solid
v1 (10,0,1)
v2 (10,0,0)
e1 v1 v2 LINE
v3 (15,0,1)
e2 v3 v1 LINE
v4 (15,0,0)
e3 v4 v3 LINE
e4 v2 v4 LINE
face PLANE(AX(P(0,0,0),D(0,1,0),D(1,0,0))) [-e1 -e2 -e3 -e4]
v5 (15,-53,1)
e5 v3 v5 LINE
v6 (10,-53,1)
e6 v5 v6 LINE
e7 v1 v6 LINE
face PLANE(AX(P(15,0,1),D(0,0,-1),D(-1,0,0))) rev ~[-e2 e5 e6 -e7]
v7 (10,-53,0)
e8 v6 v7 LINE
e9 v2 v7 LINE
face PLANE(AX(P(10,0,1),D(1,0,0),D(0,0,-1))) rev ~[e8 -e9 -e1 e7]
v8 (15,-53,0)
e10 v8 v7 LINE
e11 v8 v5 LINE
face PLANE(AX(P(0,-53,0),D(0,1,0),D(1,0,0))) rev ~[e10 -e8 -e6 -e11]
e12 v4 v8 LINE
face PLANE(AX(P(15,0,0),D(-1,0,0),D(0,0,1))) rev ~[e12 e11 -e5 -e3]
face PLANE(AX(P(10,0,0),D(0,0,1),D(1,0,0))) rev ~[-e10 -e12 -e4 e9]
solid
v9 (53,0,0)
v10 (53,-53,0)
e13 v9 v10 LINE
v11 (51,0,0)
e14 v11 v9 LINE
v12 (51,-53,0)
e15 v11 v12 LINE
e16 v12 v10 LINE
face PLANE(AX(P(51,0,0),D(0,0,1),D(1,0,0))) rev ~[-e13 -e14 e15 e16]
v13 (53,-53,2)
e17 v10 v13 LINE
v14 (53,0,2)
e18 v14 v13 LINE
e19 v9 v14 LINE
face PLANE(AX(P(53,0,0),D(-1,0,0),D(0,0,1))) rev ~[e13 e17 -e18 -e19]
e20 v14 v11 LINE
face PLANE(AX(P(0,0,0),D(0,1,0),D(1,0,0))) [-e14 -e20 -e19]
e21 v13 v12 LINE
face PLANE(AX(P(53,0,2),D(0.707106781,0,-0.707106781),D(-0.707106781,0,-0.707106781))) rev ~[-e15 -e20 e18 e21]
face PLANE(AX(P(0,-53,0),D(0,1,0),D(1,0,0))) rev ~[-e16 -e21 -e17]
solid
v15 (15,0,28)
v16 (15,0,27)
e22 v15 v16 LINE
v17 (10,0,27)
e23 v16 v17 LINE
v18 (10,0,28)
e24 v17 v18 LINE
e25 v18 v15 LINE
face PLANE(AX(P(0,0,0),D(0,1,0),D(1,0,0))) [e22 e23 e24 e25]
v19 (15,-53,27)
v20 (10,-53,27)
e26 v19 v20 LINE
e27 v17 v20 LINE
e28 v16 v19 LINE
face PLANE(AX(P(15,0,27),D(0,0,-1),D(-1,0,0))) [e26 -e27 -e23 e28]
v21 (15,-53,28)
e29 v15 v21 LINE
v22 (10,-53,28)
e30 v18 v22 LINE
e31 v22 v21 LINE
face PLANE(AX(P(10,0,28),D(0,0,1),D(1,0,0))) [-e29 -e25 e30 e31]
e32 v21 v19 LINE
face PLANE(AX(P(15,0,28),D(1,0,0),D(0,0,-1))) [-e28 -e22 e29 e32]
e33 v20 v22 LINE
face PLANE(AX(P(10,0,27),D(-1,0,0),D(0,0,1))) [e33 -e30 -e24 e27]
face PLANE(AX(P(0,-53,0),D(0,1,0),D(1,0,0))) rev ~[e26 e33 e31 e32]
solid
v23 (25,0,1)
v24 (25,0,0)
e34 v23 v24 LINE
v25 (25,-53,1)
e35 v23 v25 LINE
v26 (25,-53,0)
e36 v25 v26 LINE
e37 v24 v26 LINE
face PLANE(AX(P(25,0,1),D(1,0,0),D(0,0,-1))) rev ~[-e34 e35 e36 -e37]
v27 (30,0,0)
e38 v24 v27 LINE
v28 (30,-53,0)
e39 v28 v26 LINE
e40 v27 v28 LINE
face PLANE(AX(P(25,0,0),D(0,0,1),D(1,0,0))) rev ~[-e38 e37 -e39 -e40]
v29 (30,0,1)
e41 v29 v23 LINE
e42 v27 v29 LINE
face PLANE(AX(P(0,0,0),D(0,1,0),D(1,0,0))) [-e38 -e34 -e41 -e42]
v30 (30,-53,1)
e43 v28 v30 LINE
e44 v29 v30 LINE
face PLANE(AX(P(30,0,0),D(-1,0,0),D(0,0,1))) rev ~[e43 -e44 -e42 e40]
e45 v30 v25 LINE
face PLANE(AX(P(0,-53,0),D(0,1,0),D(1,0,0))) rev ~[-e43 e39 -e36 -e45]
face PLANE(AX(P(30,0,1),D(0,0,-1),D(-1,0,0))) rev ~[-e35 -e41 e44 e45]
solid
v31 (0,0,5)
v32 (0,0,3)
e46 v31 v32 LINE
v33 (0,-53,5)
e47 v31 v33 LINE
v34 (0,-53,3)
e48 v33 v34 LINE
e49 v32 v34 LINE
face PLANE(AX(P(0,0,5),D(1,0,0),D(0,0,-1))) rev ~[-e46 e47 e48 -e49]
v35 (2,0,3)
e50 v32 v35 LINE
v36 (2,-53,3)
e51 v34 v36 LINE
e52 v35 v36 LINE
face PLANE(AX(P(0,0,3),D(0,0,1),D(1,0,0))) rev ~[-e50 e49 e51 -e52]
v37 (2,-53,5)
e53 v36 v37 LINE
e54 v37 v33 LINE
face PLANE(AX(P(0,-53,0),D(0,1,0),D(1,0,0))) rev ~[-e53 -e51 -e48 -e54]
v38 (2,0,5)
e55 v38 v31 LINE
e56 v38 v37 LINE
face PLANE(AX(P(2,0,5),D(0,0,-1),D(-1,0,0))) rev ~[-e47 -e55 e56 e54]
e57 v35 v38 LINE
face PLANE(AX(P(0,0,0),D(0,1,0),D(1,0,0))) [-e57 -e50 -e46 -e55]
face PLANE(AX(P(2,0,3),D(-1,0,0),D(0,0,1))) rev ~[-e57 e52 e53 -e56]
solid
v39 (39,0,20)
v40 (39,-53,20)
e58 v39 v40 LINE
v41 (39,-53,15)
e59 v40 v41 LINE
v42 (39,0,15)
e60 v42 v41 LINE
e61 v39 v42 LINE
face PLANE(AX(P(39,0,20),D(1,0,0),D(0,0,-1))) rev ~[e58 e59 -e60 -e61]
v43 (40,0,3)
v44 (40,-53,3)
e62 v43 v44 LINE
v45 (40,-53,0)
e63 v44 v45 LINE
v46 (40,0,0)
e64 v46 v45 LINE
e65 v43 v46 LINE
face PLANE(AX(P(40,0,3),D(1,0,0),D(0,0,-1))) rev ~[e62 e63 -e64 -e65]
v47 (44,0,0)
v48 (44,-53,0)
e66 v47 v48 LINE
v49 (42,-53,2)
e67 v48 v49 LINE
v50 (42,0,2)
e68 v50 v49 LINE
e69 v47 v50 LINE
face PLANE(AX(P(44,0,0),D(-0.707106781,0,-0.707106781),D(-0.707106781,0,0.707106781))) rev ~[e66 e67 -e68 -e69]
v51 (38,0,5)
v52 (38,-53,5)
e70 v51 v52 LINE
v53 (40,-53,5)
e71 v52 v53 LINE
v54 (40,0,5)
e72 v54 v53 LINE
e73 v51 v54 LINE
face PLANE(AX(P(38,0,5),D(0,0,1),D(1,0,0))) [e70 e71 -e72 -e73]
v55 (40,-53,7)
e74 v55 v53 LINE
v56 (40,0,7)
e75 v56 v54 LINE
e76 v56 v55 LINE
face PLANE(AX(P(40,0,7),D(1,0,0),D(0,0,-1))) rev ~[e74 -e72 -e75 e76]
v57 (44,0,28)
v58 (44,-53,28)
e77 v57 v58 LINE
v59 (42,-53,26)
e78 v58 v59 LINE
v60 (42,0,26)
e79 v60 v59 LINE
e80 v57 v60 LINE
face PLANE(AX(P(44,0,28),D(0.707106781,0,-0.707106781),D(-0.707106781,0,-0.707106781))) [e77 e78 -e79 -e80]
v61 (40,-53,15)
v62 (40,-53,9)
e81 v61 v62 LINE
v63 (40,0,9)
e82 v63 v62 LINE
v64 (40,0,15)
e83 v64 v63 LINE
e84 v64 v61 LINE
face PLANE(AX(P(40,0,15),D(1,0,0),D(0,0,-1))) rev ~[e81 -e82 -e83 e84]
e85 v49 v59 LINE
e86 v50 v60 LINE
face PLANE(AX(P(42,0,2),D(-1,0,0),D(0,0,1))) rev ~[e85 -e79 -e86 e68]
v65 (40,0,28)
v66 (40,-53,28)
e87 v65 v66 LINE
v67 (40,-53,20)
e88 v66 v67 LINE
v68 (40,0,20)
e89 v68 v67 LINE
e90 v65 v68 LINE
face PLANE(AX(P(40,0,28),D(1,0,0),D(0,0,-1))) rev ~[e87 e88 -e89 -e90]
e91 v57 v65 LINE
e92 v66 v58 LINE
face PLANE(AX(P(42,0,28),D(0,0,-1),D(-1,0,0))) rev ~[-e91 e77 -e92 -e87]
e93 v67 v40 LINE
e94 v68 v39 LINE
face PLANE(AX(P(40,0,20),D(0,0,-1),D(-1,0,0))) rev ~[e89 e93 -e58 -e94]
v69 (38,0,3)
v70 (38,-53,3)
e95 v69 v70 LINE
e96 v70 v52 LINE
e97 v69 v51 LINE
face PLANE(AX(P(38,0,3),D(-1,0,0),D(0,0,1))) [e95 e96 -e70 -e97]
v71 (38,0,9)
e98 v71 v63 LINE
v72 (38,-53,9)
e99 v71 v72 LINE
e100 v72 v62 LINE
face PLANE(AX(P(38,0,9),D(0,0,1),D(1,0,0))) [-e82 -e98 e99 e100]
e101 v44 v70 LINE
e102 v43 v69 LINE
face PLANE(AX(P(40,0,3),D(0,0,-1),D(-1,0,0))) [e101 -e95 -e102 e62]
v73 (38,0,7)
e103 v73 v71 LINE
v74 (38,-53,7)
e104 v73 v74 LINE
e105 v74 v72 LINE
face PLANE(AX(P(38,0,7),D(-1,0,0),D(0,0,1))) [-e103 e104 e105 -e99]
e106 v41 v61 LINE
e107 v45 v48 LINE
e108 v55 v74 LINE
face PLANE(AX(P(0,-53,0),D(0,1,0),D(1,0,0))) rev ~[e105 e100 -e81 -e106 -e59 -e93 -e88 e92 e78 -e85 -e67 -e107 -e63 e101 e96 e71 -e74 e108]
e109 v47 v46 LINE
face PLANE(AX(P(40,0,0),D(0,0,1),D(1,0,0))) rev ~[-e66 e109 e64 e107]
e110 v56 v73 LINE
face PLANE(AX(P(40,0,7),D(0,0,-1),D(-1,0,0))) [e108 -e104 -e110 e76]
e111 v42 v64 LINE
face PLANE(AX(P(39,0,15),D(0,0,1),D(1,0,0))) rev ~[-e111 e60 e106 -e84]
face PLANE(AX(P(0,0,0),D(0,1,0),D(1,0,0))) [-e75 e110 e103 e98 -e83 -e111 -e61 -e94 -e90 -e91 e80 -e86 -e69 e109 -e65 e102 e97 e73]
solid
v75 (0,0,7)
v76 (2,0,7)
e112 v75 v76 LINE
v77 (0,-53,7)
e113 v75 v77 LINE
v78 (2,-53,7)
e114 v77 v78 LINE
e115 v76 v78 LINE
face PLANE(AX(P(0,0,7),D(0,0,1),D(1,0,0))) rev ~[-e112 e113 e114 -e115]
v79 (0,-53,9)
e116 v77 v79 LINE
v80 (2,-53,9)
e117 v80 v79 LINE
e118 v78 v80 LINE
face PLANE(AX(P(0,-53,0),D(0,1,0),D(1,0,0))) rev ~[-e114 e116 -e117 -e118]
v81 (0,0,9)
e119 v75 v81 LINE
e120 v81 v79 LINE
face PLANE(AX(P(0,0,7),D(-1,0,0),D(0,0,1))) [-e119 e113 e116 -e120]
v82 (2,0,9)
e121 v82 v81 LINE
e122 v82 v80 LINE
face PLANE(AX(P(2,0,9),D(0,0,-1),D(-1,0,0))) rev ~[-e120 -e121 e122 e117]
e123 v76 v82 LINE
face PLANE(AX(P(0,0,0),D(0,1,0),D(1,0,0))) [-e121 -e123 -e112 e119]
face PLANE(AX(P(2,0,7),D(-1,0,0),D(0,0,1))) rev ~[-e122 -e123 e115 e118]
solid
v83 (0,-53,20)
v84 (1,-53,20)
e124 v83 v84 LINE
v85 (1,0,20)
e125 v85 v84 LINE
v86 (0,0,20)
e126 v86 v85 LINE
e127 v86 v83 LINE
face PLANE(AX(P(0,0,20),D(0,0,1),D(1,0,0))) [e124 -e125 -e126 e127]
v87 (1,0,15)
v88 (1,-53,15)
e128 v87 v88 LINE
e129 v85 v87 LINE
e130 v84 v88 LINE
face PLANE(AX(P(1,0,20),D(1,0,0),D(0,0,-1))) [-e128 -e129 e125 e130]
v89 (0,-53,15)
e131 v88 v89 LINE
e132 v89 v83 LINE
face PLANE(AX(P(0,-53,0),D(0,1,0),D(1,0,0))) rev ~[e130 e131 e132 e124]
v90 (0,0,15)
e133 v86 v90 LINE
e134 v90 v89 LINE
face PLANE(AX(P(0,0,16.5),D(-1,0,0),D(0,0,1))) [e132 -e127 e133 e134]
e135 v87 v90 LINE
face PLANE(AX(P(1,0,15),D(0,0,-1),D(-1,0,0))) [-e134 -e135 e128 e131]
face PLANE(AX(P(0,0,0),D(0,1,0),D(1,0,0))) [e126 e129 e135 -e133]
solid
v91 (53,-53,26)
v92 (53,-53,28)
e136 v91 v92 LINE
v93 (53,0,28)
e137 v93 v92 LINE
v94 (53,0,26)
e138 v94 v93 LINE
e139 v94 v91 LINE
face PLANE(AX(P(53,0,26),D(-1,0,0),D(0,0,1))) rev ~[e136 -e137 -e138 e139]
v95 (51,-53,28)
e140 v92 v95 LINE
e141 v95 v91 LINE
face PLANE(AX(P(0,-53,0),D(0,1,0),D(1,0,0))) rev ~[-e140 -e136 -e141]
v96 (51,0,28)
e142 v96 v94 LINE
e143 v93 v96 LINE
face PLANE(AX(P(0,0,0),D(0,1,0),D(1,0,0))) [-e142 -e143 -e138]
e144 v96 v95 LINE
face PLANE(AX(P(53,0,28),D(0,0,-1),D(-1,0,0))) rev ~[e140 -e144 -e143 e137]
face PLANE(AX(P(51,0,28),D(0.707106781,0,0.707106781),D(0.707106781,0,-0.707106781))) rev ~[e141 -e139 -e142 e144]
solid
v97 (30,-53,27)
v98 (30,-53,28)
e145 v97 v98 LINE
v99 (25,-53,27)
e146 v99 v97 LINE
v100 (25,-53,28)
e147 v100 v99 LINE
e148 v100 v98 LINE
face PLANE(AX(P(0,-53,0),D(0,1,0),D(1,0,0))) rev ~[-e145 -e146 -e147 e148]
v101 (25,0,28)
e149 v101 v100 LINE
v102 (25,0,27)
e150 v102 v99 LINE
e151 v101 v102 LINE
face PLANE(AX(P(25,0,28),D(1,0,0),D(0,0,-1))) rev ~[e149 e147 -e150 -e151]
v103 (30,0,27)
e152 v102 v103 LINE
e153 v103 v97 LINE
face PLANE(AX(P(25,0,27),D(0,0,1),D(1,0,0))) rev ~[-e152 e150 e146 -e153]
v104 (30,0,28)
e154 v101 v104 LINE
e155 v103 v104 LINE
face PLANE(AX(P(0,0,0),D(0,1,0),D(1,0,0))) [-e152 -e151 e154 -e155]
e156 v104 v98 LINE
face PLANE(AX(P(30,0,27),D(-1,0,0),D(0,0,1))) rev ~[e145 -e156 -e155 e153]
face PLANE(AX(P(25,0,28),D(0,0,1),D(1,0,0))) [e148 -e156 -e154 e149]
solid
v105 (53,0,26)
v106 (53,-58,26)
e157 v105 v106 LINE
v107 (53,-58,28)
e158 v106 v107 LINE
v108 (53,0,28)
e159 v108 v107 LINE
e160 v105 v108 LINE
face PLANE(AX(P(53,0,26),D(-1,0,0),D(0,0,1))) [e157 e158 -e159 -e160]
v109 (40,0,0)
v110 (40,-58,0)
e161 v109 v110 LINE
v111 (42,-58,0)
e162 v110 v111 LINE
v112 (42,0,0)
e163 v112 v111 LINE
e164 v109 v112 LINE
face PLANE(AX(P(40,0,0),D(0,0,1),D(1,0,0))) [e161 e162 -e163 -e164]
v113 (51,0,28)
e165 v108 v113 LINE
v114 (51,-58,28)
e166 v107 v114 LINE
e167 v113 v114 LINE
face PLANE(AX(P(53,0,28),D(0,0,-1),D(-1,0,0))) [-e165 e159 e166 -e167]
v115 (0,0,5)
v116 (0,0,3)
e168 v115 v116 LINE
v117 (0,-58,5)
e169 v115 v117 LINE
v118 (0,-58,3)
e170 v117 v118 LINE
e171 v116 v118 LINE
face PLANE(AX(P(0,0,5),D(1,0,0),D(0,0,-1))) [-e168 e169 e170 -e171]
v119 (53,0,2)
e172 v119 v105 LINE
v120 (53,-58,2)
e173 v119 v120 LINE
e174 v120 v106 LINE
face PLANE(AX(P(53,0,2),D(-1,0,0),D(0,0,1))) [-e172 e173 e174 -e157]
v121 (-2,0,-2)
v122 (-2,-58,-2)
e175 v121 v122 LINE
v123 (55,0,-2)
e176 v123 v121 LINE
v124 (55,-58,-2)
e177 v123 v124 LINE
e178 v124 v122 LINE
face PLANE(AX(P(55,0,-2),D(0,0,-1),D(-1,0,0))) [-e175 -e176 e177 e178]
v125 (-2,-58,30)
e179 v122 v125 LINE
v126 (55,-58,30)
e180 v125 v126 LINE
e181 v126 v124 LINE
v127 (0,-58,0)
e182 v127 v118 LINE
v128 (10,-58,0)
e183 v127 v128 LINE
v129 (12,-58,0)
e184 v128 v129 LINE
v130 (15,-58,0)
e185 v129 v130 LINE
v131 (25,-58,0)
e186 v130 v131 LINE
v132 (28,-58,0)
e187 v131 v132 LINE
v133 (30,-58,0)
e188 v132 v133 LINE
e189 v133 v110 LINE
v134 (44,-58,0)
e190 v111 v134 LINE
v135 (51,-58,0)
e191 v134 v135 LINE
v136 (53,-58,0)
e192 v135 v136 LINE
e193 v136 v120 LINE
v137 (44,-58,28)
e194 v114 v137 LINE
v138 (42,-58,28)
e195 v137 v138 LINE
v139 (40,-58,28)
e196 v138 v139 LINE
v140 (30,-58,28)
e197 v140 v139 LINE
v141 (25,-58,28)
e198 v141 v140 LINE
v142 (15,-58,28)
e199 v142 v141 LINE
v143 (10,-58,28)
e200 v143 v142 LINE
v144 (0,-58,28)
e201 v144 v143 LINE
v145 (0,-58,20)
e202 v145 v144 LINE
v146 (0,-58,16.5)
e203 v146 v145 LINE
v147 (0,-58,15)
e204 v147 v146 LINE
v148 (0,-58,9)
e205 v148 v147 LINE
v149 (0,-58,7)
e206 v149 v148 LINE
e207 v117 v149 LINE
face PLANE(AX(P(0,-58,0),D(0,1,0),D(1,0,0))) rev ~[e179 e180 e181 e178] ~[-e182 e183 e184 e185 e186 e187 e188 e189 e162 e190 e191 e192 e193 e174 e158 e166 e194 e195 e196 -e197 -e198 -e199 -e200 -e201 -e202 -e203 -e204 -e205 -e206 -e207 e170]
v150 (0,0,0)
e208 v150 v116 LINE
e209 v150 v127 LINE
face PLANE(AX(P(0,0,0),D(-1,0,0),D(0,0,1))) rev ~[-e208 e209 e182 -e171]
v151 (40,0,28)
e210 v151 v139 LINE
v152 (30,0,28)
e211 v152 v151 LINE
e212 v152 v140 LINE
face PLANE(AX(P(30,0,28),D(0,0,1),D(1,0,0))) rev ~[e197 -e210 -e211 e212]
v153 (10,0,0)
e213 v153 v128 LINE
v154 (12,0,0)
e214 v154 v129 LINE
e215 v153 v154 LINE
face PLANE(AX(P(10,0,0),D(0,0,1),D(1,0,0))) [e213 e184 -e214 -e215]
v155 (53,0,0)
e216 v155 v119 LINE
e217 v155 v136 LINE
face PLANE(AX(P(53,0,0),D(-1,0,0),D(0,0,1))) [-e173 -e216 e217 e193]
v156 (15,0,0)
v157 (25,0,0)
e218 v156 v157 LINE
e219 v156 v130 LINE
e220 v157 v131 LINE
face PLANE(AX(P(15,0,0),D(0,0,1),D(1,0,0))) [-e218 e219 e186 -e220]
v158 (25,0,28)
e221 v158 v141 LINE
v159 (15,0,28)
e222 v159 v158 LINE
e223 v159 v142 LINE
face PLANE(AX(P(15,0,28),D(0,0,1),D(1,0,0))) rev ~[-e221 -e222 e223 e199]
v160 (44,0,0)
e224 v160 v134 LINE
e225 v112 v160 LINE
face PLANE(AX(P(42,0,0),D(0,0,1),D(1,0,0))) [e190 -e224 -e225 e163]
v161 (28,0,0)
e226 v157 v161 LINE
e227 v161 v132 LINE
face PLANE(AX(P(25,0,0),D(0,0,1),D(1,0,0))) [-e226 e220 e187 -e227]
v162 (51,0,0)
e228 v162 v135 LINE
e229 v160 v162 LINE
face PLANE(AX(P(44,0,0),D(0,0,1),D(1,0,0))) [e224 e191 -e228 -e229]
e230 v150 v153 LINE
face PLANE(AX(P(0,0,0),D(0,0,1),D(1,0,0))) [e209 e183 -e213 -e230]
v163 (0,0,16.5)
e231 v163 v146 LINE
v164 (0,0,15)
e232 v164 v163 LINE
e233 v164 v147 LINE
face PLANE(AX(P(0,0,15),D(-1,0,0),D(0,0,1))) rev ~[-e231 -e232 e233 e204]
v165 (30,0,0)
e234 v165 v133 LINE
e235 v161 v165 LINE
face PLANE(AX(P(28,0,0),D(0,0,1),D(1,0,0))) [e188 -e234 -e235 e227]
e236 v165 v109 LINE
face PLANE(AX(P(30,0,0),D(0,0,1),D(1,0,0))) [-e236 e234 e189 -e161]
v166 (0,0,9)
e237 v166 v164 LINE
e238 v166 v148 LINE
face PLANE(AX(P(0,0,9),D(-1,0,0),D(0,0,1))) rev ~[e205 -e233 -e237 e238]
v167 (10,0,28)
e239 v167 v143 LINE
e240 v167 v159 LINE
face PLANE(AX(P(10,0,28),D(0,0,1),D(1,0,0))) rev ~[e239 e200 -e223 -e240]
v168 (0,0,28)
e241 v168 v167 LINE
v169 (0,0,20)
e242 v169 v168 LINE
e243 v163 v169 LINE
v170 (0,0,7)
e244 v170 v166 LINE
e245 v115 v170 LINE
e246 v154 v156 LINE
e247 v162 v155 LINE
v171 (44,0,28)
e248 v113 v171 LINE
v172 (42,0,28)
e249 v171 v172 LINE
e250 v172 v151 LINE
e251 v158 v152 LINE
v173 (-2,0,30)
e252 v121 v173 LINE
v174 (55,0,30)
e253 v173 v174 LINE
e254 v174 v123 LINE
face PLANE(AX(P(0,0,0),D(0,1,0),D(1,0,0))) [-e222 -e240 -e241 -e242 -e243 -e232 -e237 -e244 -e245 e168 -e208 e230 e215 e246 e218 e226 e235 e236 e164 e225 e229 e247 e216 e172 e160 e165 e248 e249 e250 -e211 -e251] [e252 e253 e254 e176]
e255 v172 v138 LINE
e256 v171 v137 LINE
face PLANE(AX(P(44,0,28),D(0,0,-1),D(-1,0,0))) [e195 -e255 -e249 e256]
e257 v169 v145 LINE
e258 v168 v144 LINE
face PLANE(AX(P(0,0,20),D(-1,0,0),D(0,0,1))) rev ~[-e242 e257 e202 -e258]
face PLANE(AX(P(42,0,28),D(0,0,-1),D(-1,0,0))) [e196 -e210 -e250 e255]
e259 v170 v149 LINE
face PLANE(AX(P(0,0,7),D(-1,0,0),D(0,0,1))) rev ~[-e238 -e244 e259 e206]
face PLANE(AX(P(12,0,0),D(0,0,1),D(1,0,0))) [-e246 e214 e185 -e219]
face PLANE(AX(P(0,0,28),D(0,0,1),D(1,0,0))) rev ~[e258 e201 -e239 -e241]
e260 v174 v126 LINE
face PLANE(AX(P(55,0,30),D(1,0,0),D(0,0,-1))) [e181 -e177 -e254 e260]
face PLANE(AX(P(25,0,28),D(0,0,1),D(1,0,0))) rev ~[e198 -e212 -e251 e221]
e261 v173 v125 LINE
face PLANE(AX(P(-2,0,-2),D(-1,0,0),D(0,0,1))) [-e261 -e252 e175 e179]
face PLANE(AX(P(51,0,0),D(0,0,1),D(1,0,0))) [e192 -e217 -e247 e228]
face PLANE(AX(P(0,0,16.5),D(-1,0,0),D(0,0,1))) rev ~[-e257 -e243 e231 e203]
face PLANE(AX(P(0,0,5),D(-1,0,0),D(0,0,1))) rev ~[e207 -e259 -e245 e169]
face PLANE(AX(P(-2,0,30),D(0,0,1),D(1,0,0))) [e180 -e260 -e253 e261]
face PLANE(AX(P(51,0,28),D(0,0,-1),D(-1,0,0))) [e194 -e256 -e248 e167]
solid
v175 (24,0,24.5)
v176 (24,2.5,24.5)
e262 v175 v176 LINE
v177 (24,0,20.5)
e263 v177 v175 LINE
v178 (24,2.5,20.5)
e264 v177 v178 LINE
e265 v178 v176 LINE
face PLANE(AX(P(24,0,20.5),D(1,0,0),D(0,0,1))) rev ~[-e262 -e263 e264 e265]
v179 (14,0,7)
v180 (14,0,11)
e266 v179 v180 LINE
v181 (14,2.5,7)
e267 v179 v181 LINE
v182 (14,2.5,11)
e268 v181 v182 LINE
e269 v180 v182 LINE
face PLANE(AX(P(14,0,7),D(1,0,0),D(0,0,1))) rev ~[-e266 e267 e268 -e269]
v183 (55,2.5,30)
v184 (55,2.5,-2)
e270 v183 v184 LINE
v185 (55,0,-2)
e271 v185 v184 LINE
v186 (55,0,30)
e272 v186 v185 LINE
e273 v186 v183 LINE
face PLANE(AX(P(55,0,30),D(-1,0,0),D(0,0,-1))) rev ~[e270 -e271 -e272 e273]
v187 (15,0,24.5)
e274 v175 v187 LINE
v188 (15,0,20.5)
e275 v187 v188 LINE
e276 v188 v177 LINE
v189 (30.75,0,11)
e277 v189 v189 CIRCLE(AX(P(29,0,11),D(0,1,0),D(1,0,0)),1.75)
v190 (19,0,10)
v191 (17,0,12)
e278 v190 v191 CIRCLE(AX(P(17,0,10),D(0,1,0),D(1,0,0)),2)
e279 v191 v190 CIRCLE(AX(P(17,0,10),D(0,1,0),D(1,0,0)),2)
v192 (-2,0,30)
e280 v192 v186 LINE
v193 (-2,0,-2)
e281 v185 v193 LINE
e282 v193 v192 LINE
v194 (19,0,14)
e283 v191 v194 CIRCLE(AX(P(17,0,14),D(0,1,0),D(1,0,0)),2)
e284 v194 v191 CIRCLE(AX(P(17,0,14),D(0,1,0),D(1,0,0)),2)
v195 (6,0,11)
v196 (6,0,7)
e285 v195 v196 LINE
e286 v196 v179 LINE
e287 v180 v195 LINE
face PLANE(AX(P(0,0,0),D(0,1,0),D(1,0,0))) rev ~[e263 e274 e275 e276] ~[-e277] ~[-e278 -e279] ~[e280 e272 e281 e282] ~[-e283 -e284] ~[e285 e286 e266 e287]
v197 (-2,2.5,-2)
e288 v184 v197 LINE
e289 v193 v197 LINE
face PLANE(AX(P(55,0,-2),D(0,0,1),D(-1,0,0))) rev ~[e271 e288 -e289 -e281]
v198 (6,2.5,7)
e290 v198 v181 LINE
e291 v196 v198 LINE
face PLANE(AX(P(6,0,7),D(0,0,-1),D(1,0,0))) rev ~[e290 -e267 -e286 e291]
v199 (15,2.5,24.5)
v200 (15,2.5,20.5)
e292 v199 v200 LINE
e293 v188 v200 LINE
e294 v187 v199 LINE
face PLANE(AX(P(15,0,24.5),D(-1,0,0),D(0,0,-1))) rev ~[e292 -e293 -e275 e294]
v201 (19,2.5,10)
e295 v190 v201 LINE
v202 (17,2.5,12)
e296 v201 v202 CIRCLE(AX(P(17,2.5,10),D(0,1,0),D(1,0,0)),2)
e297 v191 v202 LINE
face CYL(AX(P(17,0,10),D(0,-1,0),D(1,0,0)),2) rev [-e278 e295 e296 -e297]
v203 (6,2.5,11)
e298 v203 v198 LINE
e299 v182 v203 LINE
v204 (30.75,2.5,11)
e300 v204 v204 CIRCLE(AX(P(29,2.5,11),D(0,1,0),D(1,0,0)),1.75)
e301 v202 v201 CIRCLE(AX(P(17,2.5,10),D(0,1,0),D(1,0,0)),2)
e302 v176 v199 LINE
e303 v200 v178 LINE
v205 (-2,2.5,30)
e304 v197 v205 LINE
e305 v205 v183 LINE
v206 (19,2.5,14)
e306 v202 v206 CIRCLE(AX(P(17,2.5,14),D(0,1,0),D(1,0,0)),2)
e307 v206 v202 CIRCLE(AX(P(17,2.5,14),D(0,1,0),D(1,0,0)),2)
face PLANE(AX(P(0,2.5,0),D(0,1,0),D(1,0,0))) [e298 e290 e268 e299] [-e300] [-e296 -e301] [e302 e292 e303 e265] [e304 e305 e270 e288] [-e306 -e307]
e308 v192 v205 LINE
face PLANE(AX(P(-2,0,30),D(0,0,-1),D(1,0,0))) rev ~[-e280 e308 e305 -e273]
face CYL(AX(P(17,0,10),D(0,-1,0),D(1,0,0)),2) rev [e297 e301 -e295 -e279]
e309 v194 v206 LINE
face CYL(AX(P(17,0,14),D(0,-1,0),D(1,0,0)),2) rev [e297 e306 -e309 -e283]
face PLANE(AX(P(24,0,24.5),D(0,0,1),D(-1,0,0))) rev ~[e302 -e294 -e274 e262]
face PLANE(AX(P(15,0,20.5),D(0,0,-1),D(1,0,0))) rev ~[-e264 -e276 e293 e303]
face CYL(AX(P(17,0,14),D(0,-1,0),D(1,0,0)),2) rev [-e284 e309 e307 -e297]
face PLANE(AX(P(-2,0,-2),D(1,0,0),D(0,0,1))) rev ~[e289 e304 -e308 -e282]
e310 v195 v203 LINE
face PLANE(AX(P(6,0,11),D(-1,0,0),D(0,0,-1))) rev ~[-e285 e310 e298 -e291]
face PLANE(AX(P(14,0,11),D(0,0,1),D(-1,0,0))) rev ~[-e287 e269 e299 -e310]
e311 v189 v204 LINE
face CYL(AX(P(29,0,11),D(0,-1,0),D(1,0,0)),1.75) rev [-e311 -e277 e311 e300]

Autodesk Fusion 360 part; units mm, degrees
sketch "Esquisse1" plane through (0, 0, 0) normal (0, 1, 0) x (1, 0, 0)
  line L0 (0, -28) -> (40, -28)
  line L1 (40, -28) -> (40, 0)
  line L2 (40, 0) -> (42, 0)
  line L3 (42, 0) -> (42, -28)
  line L4 (42, -28) -> (40, -28)
  line L5 (40, -28) -> (40, 0)
  line L6 (42, 0) -> (53, 0)
  line L7 (53, 0) -> (53, -28)
  line L8 (53, -28) -> (42, -28)
  line L9 (42, -28) -> (42, 0)
  line L10 (12, 0) -> (15, 0)
  line L11 (25, 0) -> (28, 0)
  line L12 (10, -28) -> (15, -28)
  line L13 (15, -28) -> (15, -27)
  line L14 (15, -27) -> (10, -27)
  line L15 (10, -27) -> (10, -28)
  line L16 (30, -28) -> (25, -28)
  line L17 (25, -28) -> (25, -27)
  line L18 (25, -27) -> (30, -27)
  line L19 (30, -27) -> (30, -28)
  line L20 (0, -3) -> (2, -3)
  line L21 (2, -3) -> (2, -5)
  line L22 (2, -5) -> (0, -5)
  line L23 (0, -5) -> (0, -3)
  line L24 (40, -3) -> (38, -3)
  line L25 (38, -3) -> (38, -5)
  line L26 (38, -5) -> (40, -5)
  line L27 (40, -5) -> (40, -3)
  line L28 (40, -7) -> (38, -7)
  line L29 (38, -7) -> (38, -9)
  line L30 (38, -9) -> (40, -9)
  line L31 (40, -9) -> (40, -7)
  line L32 (6, -7) -> (14, -7)
  line L33 (14, -7) -> (14, -11)
  line L34 (14, -11) -> (6, -11)
  line L35 (6, -11) -> (6, -7)
  circle A0 centre (29, -11) radius 1.75
  circle A1 centre (17, -10) radius 2
  circle A2 centre (17, -14) radius 2
  line L36 (0, 0) -> (40, 0)
  line L37 (0, 0) -> (0, -28)
  line L38 (0, -7) -> (2, -7)
  line L39 (2, -7) -> (2, -9)
  line L40 (2, -9) -> (0, -9)
  line L41 (0, -9) -> (0, -7)
  line L42 (-2, -30) -> (55, -30)
  line L43 (55, -30) -> (55, 2)
  line L44 (55, 2) -> (-2, 2)
  line L45 (-2, 2) -> (-2, -30)
  line L46 (0, 0) -> (15, 0)
  line L47 (0, -16.5) -> (0, 0)
  line L48 (15, -20.5) -> (24, -20.5)
  line L49 (24, -20.5) -> (24, -24.5)
  line L50 (24, -24.5) -> (15, -24.5)
  line L51 (15, -24.5) -> (15, -20.5)
  line L52 (0, -20) -> (1, -20)
  line L53 (1, -20) -> (1, -15)
  line L54 (1, -15) -> (0, -15)
  line L55 (0, -15) -> (0, -20)
  line L56 (40, -16) -> (40, -20)
  line L57 (44, -28) -> (42, -26)
  line L58 (51, -28) -> (53, -26)
  line L59 (53, -2) -> (51, 0)
  line L60 (44, 0) -> (42, -2)
  line L61 (10, 0) -> (15, 0)
  line L62 (15, 0) -> (15, -1)
  line L63 (15, -1) -> (10, -1)
  line L64 (10, -1) -> (10, 0)
  line L65 (25, 0) -> (30, 0)
  line L66 (30, 0) -> (30, -1)
  line L67 (30, -1) -> (25, -1)
  line L68 (25, -1) -> (25, 0)
  line L69 (40, -20) -> (39, -20)
  line L70 (39, -20) -> (39, -15)
  line L71 (39, -15) -> (40, -15)
  line L72 (40, -15) -> (40, -20)
  dimension "d42" = 28
  dimension "d43" = 32
  dimension "d44" = 40
  dimension "d45" = 2
  dimension "d46" = 11
  dimension "d47" = 57
extrude "Extrusion4" add sketch "Esquisse1" along normal blind 2.5 contours L0 L1 L5 L13 L14 L15 L17 L18 L19 L20 L21 L22 L24 L25 L26 L28 L29 L30 L36 L37 L38 L39 L40 L46 L47 L52 L53 L54 L62 L63 L64 L66 L67 L68 L69 L70 L71 | L0 L12 L13 L14 L15 | L37 L47 L52 L53 L54 L55 | L0 L16 L17 L18 L19 | L37 L38 L39 L40 L41 L47 | L1 L2 L3 L4 L5 L9 L27 L31 L56 L72 | L1 L5 L56 L69 L70 L71 L72 | L3 L8 L9 L57 | L20 L21 L22 L23 L37 L47 | L3 L6 L7 L8 L9 L57 L58 L59 L60 | L3 L6 L9 L60 | L7 L8 L58 | L1 L5 L28 L29 L30 L31 | L10 L36 L46 L61 L62 L63 L64 | L6 L7 L59 | L1 L5 L24 L25 L26 L27 | L11 L36 L65 L66 L67 L68 | L42 L43 L44 L45 makes body 1
extrude "Extrusion5" add sketch "Esquisse1" against normal blind 58 separate body contours L42 L43 L44 L45 makes body 2
extrude "Extrusion6" add sketch "Esquisse1" against normal blind 53 separate body contours L0 L12 L13 L14 L15 | L37 L47 L52 L53 L54 L55 | L0 L16 L17 L18 L19 | L37 L38 L39 L40 L41 L47 | L1 L2 L3 L4 L5 L9 L27 L31 L56 L72 | L1 L5 L56 L69 L70 L71 L72 | L3 L8 L9 L57 | L20 L21 L22 L23 L37 L47 | L3 L6 L9 L60 | L7 L8 L58 | L1 L5 L28 L29 L30 L31 | L10 L36 L46 L61 L62 L63 L64 | L6 L7 L59 | L1 L5 L24 L25 L26 L27 | L11 L36 L65 L66 L67 L68 makes body 3 at (42, -35.3333, 18) makes body 4 at (28.3333, -17.6667, 1) makes body 5 at (0, -17.6667, 16.6667) makes body 6 at (11.6667, -17.6667, 0) makes body 7 at (51.6667, -35.3333, 27.3333) makes body 8 at (0, -17.6667, 7.6667) makes body 9 at (26.6667, -17.6667, 27) makes body 10 at (13.3333, -17.6667, 27) makes body 11 at (0, -17.6667, 4.3333) makes body 12 at (52.3333, -17.6667, 1.3333)
extrude "Extrusion1" [suppressed]
extrude "Extrusion2" [suppressed]
extrude "Extrusion3" [suppressed]
